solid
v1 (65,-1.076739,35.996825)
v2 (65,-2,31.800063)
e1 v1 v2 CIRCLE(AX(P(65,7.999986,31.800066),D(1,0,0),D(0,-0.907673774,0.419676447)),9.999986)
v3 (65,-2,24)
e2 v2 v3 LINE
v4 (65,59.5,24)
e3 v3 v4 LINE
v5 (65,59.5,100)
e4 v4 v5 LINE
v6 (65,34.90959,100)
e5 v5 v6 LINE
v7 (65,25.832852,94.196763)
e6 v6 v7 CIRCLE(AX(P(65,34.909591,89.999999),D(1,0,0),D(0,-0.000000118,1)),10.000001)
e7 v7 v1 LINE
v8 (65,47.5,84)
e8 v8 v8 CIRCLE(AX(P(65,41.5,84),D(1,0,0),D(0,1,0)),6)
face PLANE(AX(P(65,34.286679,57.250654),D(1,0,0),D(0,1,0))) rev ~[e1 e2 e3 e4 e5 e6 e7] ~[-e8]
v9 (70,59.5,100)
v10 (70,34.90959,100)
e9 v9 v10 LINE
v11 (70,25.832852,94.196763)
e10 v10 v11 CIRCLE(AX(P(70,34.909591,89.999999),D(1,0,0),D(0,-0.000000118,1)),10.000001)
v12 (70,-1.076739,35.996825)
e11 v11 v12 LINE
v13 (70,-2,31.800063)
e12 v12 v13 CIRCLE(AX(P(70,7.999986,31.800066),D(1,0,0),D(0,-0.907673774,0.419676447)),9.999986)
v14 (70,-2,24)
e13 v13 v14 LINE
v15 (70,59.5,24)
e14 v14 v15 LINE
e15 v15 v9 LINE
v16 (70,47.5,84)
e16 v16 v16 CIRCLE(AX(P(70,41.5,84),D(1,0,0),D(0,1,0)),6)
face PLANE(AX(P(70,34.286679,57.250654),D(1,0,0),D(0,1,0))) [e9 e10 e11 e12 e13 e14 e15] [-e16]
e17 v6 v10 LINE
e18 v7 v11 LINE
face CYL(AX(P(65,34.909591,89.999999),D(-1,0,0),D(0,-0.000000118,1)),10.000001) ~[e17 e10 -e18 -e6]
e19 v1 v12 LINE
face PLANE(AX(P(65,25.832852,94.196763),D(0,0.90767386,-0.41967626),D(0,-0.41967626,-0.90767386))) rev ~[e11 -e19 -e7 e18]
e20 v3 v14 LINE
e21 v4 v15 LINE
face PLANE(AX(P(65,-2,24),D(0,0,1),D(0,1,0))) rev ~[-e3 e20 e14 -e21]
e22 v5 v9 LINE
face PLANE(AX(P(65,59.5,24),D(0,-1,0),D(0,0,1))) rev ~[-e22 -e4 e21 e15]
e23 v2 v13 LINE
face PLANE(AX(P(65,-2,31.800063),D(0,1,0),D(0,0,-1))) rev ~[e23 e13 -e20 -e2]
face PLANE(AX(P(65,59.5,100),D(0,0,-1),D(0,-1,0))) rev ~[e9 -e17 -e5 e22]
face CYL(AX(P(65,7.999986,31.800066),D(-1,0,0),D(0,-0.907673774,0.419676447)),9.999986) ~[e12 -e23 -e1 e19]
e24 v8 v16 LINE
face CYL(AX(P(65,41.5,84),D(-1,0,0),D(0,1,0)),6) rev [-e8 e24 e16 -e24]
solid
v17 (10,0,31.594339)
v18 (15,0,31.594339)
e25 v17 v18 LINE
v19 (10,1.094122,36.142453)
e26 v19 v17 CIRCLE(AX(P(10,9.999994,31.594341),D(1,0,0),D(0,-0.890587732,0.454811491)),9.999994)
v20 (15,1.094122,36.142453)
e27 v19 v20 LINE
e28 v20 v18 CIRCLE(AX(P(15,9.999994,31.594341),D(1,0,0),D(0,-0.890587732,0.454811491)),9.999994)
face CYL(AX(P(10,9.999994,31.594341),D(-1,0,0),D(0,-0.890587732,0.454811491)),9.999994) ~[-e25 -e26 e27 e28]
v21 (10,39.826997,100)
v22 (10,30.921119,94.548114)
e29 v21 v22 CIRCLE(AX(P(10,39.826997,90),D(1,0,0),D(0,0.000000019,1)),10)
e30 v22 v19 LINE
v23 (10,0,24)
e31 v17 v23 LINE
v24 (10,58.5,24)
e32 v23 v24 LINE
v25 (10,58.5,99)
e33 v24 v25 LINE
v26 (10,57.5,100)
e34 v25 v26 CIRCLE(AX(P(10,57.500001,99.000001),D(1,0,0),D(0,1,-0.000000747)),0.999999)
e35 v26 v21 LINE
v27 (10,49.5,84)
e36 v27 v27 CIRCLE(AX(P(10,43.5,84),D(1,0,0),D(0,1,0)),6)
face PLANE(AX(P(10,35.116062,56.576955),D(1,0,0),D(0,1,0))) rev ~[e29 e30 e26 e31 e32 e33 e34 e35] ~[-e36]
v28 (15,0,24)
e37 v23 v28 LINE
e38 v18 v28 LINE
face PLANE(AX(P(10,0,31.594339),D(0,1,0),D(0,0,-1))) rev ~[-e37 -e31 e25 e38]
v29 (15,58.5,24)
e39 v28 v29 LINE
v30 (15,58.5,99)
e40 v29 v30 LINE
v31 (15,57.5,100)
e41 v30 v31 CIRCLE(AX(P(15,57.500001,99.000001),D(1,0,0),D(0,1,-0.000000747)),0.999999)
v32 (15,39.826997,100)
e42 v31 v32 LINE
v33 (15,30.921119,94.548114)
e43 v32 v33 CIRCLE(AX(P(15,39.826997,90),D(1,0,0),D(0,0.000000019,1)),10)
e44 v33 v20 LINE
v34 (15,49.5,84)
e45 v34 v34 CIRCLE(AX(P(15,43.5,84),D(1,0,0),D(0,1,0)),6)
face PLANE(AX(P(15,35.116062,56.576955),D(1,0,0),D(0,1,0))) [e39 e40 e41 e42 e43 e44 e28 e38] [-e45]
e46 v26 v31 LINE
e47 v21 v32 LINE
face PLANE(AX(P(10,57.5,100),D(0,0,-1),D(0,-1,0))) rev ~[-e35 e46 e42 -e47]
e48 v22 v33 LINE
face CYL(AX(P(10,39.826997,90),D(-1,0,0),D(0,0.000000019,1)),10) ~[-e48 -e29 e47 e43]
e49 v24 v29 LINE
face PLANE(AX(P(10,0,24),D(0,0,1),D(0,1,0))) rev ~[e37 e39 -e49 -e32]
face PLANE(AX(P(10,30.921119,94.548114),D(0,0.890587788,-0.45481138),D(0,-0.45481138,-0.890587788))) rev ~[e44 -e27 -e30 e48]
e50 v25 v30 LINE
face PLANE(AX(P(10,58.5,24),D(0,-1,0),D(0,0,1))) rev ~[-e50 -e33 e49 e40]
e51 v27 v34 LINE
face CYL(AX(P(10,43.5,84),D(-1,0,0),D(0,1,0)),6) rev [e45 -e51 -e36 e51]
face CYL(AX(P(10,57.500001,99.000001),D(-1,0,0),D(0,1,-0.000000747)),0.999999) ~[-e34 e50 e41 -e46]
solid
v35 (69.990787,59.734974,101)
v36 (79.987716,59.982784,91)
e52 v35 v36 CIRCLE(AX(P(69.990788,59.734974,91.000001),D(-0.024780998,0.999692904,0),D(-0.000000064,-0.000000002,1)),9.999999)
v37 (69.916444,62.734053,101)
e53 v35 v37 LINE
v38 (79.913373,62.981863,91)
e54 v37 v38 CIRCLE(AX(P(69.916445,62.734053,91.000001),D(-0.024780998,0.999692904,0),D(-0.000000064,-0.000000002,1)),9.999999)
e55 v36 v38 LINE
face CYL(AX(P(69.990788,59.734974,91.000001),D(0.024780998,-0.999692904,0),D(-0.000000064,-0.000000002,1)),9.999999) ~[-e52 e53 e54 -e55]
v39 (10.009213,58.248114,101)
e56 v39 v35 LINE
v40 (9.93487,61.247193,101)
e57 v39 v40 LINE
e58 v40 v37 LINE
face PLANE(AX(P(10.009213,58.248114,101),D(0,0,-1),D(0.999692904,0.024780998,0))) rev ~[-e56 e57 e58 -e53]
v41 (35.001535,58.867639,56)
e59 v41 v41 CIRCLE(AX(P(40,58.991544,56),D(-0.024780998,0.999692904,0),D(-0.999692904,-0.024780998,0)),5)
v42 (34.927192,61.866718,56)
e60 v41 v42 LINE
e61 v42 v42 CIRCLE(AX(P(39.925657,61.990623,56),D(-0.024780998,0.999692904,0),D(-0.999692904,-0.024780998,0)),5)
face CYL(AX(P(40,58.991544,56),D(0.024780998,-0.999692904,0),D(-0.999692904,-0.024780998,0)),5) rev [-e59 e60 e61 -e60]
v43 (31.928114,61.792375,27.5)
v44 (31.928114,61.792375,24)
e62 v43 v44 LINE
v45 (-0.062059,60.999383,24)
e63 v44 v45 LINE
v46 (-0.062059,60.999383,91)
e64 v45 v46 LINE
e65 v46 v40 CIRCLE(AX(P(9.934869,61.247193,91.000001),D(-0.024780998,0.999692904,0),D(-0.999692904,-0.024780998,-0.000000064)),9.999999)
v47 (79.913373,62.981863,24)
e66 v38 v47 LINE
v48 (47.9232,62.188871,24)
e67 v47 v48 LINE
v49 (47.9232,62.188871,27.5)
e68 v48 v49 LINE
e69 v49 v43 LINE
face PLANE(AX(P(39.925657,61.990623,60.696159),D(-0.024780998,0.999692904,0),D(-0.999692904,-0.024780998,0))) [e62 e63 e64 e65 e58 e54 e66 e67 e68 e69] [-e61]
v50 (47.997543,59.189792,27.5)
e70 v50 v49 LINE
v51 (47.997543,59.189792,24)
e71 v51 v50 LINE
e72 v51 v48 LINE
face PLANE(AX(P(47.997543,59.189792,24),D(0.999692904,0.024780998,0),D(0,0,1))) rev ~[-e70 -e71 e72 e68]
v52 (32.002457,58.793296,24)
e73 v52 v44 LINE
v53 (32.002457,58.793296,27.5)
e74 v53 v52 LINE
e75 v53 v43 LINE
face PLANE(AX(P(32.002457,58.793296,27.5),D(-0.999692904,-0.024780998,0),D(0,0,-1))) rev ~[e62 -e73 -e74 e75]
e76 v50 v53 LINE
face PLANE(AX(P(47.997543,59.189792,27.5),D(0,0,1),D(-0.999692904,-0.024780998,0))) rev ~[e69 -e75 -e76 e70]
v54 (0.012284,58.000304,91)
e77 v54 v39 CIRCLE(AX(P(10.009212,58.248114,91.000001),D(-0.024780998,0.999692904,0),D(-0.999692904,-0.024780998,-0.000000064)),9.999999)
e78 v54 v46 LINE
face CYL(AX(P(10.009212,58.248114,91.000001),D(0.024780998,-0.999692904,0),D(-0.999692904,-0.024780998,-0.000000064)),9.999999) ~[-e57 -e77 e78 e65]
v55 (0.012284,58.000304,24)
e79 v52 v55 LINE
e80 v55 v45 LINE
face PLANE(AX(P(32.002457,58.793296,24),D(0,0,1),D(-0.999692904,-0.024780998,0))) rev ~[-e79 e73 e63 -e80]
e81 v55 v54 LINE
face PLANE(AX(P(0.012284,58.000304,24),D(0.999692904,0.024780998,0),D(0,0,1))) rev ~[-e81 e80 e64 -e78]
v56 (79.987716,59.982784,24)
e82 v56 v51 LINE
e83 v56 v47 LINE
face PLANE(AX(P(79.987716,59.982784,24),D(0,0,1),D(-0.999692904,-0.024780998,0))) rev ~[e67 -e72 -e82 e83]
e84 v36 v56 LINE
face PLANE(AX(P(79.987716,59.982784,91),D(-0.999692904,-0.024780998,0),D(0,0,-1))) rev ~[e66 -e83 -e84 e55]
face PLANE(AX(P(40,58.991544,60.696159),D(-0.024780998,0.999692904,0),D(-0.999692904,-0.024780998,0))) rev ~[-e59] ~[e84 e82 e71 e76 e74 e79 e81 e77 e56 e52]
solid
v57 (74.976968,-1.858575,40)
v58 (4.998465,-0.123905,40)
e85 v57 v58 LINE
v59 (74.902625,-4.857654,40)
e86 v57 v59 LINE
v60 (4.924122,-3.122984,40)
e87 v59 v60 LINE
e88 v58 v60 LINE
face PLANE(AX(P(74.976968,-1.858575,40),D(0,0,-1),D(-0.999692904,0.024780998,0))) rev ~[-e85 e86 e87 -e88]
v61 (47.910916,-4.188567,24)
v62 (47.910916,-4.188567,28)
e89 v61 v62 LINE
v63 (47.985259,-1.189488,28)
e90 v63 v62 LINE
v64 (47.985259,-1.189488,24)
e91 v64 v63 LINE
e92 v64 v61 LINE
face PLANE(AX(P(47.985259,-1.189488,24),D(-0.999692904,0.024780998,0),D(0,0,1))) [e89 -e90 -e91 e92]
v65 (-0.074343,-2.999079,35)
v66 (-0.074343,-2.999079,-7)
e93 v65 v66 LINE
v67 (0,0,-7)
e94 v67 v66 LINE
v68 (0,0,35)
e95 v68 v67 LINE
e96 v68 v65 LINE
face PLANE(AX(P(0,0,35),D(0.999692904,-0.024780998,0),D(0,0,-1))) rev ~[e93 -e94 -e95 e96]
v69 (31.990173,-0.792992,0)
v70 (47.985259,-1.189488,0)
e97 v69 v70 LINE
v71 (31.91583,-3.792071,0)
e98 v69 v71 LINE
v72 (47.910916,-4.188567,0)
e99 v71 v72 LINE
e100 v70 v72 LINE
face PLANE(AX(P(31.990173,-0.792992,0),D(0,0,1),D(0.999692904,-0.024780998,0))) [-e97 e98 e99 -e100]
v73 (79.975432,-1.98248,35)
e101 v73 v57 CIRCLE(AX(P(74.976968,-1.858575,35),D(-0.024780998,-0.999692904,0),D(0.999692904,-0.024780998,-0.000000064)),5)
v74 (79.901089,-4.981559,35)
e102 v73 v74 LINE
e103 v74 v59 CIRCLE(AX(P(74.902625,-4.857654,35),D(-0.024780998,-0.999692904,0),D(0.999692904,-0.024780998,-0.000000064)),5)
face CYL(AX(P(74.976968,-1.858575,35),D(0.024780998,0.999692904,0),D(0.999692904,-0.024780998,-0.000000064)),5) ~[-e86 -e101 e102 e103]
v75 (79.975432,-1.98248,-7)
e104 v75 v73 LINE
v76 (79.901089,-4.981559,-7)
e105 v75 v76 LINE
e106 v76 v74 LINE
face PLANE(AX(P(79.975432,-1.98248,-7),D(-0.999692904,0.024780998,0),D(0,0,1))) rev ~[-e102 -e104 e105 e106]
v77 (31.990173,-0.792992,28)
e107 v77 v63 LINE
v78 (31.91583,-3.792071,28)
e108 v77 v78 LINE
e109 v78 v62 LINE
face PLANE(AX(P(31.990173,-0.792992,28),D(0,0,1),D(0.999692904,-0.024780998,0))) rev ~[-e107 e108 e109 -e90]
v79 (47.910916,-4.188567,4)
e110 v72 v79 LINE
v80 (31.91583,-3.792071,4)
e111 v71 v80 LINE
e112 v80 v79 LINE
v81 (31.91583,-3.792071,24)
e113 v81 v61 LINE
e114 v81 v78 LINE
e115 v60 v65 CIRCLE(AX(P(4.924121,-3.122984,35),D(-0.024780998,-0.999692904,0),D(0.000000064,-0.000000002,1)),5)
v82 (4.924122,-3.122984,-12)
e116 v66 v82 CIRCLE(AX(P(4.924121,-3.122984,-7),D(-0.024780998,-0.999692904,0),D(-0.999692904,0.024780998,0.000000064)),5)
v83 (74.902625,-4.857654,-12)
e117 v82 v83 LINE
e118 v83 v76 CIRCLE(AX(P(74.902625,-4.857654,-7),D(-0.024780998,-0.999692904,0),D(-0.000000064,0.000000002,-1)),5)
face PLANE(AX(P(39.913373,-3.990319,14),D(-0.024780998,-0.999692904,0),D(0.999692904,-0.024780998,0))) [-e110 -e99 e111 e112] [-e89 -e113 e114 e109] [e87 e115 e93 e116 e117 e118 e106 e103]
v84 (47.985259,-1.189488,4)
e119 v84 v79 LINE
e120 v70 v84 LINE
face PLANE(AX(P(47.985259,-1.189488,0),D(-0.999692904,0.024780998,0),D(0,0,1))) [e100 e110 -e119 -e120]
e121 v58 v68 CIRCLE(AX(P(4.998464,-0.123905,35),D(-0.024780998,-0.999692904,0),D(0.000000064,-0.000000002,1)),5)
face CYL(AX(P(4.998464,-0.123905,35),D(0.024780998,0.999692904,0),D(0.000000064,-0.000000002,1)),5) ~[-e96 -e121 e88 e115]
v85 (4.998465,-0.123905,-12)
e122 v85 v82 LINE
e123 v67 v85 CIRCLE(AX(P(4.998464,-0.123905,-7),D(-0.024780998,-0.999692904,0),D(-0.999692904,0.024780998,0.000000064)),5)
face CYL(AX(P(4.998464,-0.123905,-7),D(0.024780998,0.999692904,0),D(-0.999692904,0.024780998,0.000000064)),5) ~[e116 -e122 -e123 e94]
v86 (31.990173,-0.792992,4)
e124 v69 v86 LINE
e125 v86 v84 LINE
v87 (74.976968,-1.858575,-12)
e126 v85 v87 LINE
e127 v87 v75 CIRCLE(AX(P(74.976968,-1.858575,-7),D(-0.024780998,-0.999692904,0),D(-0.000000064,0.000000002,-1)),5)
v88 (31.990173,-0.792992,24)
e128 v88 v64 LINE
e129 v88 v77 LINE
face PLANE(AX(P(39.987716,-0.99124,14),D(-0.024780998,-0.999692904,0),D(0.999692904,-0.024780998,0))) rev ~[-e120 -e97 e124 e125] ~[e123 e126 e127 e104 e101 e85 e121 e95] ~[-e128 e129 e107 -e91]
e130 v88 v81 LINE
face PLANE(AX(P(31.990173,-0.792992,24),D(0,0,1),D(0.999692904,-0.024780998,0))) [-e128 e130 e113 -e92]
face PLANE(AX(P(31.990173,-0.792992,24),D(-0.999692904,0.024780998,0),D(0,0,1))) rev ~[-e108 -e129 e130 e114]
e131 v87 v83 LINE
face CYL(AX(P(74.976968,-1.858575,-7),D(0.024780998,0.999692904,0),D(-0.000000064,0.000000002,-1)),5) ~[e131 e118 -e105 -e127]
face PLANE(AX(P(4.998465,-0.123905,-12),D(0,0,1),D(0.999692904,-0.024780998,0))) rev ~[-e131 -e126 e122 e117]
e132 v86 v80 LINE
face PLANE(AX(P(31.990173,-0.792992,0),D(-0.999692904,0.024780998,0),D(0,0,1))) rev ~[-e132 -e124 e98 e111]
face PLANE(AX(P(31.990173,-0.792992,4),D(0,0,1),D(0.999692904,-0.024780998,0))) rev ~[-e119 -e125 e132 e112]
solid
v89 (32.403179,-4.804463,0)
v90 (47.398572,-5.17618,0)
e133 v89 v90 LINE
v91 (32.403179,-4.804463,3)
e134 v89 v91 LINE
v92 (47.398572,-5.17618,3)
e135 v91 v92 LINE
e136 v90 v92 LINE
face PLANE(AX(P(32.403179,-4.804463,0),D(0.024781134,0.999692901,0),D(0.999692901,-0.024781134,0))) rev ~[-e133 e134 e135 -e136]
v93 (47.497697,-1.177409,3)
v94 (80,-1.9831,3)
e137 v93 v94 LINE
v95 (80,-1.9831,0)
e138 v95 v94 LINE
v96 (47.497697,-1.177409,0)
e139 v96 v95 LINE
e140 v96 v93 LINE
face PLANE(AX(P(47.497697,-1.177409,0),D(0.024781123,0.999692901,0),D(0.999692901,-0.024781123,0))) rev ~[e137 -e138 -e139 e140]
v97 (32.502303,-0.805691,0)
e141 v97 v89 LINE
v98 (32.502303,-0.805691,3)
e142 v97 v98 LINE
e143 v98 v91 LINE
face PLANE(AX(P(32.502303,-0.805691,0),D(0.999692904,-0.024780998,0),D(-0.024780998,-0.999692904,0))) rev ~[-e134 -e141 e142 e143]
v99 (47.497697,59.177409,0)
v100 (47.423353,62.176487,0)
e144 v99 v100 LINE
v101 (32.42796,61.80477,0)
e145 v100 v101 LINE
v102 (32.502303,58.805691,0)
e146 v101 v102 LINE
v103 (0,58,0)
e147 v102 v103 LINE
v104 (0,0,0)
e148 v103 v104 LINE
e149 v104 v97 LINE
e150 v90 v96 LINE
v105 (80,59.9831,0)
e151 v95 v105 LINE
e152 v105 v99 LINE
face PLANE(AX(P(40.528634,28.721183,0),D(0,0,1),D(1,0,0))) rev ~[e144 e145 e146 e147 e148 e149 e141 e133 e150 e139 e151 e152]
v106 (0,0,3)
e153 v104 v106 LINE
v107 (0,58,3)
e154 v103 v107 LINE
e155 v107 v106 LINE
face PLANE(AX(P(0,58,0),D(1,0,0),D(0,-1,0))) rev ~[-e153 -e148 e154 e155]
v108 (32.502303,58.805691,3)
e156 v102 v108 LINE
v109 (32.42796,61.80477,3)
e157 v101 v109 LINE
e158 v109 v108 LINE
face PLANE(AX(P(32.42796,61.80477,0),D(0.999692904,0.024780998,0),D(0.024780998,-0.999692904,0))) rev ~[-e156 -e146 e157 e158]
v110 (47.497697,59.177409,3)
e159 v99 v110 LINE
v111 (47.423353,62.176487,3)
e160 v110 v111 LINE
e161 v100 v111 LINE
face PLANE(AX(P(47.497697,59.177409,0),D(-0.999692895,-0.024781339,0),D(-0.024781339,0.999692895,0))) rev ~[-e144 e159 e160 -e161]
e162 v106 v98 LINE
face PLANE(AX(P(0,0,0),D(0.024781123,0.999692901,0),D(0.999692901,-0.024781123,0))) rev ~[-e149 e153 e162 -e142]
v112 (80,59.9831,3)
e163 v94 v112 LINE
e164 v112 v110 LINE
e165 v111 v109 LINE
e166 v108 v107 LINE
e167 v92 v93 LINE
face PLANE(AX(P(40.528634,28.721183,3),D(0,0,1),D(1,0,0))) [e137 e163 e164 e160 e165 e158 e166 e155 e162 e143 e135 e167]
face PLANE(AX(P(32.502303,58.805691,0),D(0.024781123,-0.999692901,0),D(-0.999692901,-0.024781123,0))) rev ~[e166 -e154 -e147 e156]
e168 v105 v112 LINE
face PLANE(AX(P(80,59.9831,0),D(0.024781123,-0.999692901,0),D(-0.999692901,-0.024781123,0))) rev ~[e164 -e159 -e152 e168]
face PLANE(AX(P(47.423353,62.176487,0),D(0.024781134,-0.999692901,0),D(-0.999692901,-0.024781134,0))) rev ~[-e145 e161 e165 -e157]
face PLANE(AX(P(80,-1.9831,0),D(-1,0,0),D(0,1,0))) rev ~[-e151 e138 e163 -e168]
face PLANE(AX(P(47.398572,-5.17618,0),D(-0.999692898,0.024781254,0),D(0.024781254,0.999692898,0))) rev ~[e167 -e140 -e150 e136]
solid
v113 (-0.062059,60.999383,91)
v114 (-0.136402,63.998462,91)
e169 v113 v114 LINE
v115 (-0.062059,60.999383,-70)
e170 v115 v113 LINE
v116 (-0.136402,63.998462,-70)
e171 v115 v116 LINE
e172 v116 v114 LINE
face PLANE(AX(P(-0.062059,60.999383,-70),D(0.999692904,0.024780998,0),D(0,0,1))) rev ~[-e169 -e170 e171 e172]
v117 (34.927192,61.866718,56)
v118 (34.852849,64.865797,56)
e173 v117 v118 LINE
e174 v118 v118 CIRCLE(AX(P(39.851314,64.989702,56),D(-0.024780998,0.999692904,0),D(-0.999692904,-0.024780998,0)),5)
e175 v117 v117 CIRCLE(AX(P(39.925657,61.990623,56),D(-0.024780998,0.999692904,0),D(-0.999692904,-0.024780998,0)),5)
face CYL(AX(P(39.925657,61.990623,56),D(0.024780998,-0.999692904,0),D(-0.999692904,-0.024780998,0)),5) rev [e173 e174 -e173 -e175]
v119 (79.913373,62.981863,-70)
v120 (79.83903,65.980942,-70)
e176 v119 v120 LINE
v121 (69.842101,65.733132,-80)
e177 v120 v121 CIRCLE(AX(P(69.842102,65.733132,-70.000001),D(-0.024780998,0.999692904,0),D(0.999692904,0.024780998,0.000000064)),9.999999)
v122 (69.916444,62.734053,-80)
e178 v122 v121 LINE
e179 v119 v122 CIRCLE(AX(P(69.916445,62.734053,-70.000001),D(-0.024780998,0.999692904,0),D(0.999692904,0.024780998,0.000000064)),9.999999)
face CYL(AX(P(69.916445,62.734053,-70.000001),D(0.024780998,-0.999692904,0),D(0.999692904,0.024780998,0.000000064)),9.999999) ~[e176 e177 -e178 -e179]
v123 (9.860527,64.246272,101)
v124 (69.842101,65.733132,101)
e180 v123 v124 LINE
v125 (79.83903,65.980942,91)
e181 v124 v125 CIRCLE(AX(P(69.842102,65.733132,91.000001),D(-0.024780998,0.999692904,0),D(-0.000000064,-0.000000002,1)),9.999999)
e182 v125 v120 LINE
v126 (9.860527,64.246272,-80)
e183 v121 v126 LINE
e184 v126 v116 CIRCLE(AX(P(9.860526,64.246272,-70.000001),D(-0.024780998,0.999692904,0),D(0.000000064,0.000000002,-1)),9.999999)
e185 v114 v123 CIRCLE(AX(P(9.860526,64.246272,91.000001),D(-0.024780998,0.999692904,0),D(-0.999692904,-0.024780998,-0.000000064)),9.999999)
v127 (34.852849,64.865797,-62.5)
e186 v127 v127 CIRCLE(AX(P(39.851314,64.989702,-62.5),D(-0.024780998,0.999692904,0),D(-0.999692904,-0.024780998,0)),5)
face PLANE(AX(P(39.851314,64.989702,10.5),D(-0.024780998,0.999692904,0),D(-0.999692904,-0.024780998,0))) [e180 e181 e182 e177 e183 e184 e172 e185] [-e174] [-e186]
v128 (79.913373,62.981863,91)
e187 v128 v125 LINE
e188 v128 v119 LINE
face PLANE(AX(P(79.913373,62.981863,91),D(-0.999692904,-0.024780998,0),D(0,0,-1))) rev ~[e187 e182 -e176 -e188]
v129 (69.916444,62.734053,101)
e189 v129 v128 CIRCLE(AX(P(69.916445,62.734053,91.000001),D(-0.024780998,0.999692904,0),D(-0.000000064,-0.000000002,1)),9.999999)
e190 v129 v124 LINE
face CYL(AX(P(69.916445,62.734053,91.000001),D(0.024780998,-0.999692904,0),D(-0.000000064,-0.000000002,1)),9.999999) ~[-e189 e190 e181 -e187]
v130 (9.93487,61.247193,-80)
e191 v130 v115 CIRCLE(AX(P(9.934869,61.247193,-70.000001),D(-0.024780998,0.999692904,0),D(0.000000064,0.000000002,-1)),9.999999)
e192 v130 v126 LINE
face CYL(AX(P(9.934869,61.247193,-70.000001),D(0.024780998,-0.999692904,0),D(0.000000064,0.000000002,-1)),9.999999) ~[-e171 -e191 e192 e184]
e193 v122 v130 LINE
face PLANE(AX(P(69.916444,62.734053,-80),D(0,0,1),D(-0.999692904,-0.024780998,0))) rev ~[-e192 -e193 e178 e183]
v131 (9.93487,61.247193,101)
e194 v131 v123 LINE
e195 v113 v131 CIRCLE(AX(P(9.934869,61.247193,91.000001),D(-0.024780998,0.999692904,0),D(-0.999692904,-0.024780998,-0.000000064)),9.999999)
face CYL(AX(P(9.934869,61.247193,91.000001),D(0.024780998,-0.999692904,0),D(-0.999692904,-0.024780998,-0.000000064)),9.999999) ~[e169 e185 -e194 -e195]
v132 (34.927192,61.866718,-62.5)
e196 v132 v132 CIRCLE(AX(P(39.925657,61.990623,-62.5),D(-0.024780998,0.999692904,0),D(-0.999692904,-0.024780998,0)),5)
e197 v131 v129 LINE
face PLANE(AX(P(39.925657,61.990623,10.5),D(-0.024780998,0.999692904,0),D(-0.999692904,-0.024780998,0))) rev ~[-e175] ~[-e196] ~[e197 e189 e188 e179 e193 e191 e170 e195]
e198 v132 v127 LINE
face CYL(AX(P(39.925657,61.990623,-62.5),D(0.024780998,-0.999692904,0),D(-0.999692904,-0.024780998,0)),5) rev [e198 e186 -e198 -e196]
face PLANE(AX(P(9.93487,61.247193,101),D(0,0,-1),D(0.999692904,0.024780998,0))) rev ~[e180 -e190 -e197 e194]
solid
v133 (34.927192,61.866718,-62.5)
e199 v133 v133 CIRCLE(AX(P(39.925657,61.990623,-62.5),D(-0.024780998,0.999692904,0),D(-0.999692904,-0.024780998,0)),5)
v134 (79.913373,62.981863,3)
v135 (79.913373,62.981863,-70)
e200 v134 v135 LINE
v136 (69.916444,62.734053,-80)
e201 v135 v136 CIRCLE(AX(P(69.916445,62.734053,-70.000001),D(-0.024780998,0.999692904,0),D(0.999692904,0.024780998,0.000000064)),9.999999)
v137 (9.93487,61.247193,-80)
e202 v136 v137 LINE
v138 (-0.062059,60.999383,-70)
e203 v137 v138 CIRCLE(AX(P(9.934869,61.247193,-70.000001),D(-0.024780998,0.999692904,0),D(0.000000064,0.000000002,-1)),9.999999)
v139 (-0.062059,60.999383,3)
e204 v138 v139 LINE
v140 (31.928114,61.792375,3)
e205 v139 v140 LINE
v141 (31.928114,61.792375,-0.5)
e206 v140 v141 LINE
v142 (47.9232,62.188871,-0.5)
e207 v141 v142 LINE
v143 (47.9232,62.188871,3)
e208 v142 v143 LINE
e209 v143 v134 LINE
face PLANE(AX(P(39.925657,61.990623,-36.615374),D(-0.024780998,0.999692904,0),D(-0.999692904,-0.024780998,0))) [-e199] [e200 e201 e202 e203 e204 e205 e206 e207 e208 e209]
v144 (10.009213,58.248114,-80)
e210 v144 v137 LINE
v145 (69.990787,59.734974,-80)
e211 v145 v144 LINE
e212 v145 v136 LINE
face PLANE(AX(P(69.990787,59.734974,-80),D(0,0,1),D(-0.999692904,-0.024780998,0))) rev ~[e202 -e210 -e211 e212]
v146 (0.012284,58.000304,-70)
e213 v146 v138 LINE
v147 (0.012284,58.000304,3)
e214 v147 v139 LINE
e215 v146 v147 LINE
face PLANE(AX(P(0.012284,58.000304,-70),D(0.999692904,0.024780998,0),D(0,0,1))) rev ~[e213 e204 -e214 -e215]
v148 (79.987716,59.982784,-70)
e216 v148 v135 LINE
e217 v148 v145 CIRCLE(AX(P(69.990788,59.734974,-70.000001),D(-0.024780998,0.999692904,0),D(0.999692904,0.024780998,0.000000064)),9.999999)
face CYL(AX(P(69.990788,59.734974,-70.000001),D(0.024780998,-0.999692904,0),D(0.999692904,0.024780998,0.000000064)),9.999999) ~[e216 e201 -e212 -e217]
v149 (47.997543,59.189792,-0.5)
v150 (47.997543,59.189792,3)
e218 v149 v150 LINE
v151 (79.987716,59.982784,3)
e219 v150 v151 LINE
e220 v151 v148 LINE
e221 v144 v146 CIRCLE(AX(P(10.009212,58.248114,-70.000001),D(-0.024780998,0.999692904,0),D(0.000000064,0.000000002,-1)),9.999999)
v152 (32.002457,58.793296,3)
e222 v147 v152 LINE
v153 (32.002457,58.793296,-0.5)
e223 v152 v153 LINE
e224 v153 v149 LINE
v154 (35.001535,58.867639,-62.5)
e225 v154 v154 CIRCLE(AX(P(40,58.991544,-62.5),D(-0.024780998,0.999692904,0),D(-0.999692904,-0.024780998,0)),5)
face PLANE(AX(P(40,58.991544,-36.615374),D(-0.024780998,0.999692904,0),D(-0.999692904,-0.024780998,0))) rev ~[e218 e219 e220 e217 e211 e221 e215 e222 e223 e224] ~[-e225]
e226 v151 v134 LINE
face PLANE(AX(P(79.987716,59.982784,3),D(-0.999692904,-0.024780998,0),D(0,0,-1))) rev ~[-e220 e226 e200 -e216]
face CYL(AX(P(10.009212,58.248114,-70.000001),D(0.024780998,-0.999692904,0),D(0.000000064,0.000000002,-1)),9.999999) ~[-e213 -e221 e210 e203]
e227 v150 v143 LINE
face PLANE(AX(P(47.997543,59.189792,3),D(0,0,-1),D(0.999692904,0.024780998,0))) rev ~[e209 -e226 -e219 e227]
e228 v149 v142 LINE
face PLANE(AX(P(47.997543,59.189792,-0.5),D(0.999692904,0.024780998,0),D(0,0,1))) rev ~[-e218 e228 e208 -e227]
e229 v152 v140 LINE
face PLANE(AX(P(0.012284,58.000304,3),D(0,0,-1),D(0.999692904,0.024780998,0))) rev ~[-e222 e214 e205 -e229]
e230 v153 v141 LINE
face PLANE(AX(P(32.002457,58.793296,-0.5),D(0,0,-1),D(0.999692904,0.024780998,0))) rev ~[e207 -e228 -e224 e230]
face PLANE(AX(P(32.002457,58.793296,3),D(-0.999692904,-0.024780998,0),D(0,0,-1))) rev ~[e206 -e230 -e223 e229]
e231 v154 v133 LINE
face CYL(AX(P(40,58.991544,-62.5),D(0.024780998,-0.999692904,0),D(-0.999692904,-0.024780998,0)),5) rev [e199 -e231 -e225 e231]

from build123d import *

# Parameters (mm, degrees)
F1_DEPTH  = 3
F2_W      = 16
F2_H      = 4
F3_DEPTH  = 3
F4_R      = 5
F5_DEPTH  = 3
F6_R      = 5
F7_DEPTH  = 3
F8_R      = 6
F9_DEPTH  = 5
F11_R     = 6
F12_DEPTH = 5


with BuildPart() as f1:
    # F0 (on Top) → F1 (new body)
    with BuildSketch(Plane.XY):
        Polygon((32.502303, 58.805691), (0, 58), (0, 0), (32.502303, -0.805691), (32.403179, -4.804463), (47.398572, -5.17618), (47.497697, -1.177409), (80, -1.9831), (80, 59.9831), (47.497697, 59.177409), (47.423353, 62.176487), (32.42796, 61.80477), align=None)
    extrude(amount=F1_DEPTH)


with BuildPart() as f3:
    # F2 (on face) → F3 (new body)
    with BuildSketch(Plane(origin=(0, 0, 0), x_dir=(0.999693, -0.024781, 0), z_dir=(-0.024781, -0.999693, 0))):
        with BuildLine():
            ThreePointArc((0, -7), (1.464466, -10.535534), (5, -12))
            Line((5, -12), (75, -12))
            ThreePointArc((75, -12), (78.535534, -10.535534), (80, -7))
            Line((80, -7), (80, 35))
            ThreePointArc((80, 35), (78.535534, 38.535534), (75, 40))
            Line((75, 40), (5, 40))
            ThreePointArc((5, 40), (1.464466, 38.535534), (0, 35))
            Line((0, 35), (0, -7))
        make_face()
        with Locations((40, 2)):
            Rectangle(F2_W, F2_H, mode=Mode.SUBTRACT)
        with Locations((40, 26)):
            Rectangle(F2_W, F2_H, mode=Mode.SUBTRACT)
    extrude(amount=F3_DEPTH)


with BuildPart() as f5:
    # F4 (on face) → F5 (new body)
    with BuildSketch(Plane(origin=(-1.436865, 57.964382, 0), x_dir=(-0.999693, -0.024781, 0), z_dir=(-0.024781, 0.999693, 0))):
        with BuildLine():
            ThreePointArc((-81.449594, -70), (-78.520662, -77.071068), (-71.449594, -80))
            Line((-71.449594, -80), (-11.449594, -80))
            ThreePointArc((-11.449594, -80), (-4.378526, -77.071068), (-1.449594, -70))
            Line((-1.449594, -70), (-1.449594, 3))
            Line((-1.449594, 3), (-33.449594, 3))
            Line((-33.449594, 3), (-33.449594, -0.5))
            Line((-33.449594, -0.5), (-49.449594, -0.5))
            Line((-49.449594, -0.5), (-49.449594, 3))
            Line((-49.449594, 3), (-81.449594, 3))
            Line((-81.449594, 3), (-81.449594, -70))
        make_face()
        with Locations((-41.449594, -62.5)):
            Circle(F4_R, mode=Mode.SUBTRACT)
        with BuildLine():
            Line((-11.449594, 101), (-71.449594, 101))
            ThreePointArc((-71.449594, 101), (-78.520662, 98.071068), (-81.449594, 91))
            Line((-81.449594, 91), (-81.449594, 24))
            Line((-81.449594, 24), (-49.449594, 24))
            Line((-49.449594, 24), (-49.449594, 27.5))
            Line((-49.449594, 27.5), (-33.449594, 27.5))
            Line((-33.449594, 27.5), (-33.449594, 24))
            Line((-33.449594, 24), (-1.449594, 24))
            Line((-1.449594, 24), (-1.449594, 91))
            ThreePointArc((-1.449594, 91), (-4.378526, 98.071068), (-11.449594, 101))
        make_face()
        with Locations((-41.449594, 56)):
            Circle(F4_R, mode=Mode.SUBTRACT)
    extrude(amount=F5_DEPTH)


with BuildPart() as f7:
    # F6 (on face) → F7 (new body)
    with BuildSketch(Plane(origin=(-1.511208, 60.963461, 0), x_dir=(-0.999693, -0.024781, 0), z_dir=(-0.024781, 0.999693, 0))):
        with BuildLine():
            ThreePointArc((-81.449594, -70), (-78.520662, -77.071068), (-71.449594, -80))
            Line((-71.449594, -80), (-11.449594, -80))
            ThreePointArc((-11.449594, -80), (-4.378526, -77.071068), (-1.449594, -70))
            Line((-1.449594, -70), (-1.449594, 91))
            ThreePointArc((-1.449594, 91), (-4.378526, 98.071068), (-11.449594, 101))
            Line((-11.449594, 101), (-71.449594, 101))
            ThreePointArc((-71.449594, 101), (-78.520662, 98.071068), (-81.449594, 91))
            Line((-81.449594, 91), (-81.449594, -70))
        make_face()
        with Locations((-41.449594, -62.5)):
            Circle(F6_R, mode=Mode.SUBTRACT)
        with Locations((-41.449594, 56)):
            Circle(F6_R, mode=Mode.SUBTRACT)
    extrude(amount=F7_DEPTH)


with BuildPart() as f9:
    # F8 (on Right) → F9 (new body)
    with BuildSketch(Plane.YZ):
        with BuildLine():
            Line((0, 24), (58.5, 24))
            Line((58.5, 24), (58.5, 99))
            ThreePointArc((58.5, 99), (58.207107, 99.707107), (57.5, 100))
            Line((57.5, 100), (39.826997, 100))
            ThreePointArc((39.826997, 100), (34.60594, 98.528808), (30.921119, 94.548114))
            Line((30.921119, 94.548114), (1.094122, 36.142453))
            ThreePointArc((1.094122, 36.142453), (0.277377, 33.933272), (0, 31.594339))
            Line((0, 31.594339), (0, 24))
        make_face()
        with Locations((43.5, 84)):
            Circle(F8_R, mode=Mode.SUBTRACT)
    extrude(amount=F9_DEPTH)


with BuildPart() as f9_1:
    # F10: moved
    add(f9.part.moved(Location((10, 0, 0))))


with BuildPart() as f12:
    # F11 (on Right) → F12 (new body)
    with BuildSketch(Plane.YZ):
        with BuildLine():
            Line((0, 31.800063), (0, 24))
            Line((0, 24), (61.5, 24))
            Line((61.5, 24), (61.5, 100))
            Line((61.5, 100), (36.90959, 100))
            ThreePointArc((36.90959, 100), (31.522923, 98.425189), (27.832852, 94.196763))
            Line((27.832852, 94.196763), (0.923261, 35.996825))
            ThreePointArc((0.923261, 35.996825), (0.233542, 33.948622), (0, 31.800063))
        make_face()
        with Locations((43.5, 84)):
            Circle(F11_R, mode=Mode.SUBTRACT)
    extrude(amount=F12_DEPTH)


with BuildPart() as f12_1:
    # F13: moved
    add(f12.part.moved(Location((65, -2, 0))))


solid = Compound([f1.part, f3.part, f5.part, f7.part, f9_1.part, f12_1.part])
